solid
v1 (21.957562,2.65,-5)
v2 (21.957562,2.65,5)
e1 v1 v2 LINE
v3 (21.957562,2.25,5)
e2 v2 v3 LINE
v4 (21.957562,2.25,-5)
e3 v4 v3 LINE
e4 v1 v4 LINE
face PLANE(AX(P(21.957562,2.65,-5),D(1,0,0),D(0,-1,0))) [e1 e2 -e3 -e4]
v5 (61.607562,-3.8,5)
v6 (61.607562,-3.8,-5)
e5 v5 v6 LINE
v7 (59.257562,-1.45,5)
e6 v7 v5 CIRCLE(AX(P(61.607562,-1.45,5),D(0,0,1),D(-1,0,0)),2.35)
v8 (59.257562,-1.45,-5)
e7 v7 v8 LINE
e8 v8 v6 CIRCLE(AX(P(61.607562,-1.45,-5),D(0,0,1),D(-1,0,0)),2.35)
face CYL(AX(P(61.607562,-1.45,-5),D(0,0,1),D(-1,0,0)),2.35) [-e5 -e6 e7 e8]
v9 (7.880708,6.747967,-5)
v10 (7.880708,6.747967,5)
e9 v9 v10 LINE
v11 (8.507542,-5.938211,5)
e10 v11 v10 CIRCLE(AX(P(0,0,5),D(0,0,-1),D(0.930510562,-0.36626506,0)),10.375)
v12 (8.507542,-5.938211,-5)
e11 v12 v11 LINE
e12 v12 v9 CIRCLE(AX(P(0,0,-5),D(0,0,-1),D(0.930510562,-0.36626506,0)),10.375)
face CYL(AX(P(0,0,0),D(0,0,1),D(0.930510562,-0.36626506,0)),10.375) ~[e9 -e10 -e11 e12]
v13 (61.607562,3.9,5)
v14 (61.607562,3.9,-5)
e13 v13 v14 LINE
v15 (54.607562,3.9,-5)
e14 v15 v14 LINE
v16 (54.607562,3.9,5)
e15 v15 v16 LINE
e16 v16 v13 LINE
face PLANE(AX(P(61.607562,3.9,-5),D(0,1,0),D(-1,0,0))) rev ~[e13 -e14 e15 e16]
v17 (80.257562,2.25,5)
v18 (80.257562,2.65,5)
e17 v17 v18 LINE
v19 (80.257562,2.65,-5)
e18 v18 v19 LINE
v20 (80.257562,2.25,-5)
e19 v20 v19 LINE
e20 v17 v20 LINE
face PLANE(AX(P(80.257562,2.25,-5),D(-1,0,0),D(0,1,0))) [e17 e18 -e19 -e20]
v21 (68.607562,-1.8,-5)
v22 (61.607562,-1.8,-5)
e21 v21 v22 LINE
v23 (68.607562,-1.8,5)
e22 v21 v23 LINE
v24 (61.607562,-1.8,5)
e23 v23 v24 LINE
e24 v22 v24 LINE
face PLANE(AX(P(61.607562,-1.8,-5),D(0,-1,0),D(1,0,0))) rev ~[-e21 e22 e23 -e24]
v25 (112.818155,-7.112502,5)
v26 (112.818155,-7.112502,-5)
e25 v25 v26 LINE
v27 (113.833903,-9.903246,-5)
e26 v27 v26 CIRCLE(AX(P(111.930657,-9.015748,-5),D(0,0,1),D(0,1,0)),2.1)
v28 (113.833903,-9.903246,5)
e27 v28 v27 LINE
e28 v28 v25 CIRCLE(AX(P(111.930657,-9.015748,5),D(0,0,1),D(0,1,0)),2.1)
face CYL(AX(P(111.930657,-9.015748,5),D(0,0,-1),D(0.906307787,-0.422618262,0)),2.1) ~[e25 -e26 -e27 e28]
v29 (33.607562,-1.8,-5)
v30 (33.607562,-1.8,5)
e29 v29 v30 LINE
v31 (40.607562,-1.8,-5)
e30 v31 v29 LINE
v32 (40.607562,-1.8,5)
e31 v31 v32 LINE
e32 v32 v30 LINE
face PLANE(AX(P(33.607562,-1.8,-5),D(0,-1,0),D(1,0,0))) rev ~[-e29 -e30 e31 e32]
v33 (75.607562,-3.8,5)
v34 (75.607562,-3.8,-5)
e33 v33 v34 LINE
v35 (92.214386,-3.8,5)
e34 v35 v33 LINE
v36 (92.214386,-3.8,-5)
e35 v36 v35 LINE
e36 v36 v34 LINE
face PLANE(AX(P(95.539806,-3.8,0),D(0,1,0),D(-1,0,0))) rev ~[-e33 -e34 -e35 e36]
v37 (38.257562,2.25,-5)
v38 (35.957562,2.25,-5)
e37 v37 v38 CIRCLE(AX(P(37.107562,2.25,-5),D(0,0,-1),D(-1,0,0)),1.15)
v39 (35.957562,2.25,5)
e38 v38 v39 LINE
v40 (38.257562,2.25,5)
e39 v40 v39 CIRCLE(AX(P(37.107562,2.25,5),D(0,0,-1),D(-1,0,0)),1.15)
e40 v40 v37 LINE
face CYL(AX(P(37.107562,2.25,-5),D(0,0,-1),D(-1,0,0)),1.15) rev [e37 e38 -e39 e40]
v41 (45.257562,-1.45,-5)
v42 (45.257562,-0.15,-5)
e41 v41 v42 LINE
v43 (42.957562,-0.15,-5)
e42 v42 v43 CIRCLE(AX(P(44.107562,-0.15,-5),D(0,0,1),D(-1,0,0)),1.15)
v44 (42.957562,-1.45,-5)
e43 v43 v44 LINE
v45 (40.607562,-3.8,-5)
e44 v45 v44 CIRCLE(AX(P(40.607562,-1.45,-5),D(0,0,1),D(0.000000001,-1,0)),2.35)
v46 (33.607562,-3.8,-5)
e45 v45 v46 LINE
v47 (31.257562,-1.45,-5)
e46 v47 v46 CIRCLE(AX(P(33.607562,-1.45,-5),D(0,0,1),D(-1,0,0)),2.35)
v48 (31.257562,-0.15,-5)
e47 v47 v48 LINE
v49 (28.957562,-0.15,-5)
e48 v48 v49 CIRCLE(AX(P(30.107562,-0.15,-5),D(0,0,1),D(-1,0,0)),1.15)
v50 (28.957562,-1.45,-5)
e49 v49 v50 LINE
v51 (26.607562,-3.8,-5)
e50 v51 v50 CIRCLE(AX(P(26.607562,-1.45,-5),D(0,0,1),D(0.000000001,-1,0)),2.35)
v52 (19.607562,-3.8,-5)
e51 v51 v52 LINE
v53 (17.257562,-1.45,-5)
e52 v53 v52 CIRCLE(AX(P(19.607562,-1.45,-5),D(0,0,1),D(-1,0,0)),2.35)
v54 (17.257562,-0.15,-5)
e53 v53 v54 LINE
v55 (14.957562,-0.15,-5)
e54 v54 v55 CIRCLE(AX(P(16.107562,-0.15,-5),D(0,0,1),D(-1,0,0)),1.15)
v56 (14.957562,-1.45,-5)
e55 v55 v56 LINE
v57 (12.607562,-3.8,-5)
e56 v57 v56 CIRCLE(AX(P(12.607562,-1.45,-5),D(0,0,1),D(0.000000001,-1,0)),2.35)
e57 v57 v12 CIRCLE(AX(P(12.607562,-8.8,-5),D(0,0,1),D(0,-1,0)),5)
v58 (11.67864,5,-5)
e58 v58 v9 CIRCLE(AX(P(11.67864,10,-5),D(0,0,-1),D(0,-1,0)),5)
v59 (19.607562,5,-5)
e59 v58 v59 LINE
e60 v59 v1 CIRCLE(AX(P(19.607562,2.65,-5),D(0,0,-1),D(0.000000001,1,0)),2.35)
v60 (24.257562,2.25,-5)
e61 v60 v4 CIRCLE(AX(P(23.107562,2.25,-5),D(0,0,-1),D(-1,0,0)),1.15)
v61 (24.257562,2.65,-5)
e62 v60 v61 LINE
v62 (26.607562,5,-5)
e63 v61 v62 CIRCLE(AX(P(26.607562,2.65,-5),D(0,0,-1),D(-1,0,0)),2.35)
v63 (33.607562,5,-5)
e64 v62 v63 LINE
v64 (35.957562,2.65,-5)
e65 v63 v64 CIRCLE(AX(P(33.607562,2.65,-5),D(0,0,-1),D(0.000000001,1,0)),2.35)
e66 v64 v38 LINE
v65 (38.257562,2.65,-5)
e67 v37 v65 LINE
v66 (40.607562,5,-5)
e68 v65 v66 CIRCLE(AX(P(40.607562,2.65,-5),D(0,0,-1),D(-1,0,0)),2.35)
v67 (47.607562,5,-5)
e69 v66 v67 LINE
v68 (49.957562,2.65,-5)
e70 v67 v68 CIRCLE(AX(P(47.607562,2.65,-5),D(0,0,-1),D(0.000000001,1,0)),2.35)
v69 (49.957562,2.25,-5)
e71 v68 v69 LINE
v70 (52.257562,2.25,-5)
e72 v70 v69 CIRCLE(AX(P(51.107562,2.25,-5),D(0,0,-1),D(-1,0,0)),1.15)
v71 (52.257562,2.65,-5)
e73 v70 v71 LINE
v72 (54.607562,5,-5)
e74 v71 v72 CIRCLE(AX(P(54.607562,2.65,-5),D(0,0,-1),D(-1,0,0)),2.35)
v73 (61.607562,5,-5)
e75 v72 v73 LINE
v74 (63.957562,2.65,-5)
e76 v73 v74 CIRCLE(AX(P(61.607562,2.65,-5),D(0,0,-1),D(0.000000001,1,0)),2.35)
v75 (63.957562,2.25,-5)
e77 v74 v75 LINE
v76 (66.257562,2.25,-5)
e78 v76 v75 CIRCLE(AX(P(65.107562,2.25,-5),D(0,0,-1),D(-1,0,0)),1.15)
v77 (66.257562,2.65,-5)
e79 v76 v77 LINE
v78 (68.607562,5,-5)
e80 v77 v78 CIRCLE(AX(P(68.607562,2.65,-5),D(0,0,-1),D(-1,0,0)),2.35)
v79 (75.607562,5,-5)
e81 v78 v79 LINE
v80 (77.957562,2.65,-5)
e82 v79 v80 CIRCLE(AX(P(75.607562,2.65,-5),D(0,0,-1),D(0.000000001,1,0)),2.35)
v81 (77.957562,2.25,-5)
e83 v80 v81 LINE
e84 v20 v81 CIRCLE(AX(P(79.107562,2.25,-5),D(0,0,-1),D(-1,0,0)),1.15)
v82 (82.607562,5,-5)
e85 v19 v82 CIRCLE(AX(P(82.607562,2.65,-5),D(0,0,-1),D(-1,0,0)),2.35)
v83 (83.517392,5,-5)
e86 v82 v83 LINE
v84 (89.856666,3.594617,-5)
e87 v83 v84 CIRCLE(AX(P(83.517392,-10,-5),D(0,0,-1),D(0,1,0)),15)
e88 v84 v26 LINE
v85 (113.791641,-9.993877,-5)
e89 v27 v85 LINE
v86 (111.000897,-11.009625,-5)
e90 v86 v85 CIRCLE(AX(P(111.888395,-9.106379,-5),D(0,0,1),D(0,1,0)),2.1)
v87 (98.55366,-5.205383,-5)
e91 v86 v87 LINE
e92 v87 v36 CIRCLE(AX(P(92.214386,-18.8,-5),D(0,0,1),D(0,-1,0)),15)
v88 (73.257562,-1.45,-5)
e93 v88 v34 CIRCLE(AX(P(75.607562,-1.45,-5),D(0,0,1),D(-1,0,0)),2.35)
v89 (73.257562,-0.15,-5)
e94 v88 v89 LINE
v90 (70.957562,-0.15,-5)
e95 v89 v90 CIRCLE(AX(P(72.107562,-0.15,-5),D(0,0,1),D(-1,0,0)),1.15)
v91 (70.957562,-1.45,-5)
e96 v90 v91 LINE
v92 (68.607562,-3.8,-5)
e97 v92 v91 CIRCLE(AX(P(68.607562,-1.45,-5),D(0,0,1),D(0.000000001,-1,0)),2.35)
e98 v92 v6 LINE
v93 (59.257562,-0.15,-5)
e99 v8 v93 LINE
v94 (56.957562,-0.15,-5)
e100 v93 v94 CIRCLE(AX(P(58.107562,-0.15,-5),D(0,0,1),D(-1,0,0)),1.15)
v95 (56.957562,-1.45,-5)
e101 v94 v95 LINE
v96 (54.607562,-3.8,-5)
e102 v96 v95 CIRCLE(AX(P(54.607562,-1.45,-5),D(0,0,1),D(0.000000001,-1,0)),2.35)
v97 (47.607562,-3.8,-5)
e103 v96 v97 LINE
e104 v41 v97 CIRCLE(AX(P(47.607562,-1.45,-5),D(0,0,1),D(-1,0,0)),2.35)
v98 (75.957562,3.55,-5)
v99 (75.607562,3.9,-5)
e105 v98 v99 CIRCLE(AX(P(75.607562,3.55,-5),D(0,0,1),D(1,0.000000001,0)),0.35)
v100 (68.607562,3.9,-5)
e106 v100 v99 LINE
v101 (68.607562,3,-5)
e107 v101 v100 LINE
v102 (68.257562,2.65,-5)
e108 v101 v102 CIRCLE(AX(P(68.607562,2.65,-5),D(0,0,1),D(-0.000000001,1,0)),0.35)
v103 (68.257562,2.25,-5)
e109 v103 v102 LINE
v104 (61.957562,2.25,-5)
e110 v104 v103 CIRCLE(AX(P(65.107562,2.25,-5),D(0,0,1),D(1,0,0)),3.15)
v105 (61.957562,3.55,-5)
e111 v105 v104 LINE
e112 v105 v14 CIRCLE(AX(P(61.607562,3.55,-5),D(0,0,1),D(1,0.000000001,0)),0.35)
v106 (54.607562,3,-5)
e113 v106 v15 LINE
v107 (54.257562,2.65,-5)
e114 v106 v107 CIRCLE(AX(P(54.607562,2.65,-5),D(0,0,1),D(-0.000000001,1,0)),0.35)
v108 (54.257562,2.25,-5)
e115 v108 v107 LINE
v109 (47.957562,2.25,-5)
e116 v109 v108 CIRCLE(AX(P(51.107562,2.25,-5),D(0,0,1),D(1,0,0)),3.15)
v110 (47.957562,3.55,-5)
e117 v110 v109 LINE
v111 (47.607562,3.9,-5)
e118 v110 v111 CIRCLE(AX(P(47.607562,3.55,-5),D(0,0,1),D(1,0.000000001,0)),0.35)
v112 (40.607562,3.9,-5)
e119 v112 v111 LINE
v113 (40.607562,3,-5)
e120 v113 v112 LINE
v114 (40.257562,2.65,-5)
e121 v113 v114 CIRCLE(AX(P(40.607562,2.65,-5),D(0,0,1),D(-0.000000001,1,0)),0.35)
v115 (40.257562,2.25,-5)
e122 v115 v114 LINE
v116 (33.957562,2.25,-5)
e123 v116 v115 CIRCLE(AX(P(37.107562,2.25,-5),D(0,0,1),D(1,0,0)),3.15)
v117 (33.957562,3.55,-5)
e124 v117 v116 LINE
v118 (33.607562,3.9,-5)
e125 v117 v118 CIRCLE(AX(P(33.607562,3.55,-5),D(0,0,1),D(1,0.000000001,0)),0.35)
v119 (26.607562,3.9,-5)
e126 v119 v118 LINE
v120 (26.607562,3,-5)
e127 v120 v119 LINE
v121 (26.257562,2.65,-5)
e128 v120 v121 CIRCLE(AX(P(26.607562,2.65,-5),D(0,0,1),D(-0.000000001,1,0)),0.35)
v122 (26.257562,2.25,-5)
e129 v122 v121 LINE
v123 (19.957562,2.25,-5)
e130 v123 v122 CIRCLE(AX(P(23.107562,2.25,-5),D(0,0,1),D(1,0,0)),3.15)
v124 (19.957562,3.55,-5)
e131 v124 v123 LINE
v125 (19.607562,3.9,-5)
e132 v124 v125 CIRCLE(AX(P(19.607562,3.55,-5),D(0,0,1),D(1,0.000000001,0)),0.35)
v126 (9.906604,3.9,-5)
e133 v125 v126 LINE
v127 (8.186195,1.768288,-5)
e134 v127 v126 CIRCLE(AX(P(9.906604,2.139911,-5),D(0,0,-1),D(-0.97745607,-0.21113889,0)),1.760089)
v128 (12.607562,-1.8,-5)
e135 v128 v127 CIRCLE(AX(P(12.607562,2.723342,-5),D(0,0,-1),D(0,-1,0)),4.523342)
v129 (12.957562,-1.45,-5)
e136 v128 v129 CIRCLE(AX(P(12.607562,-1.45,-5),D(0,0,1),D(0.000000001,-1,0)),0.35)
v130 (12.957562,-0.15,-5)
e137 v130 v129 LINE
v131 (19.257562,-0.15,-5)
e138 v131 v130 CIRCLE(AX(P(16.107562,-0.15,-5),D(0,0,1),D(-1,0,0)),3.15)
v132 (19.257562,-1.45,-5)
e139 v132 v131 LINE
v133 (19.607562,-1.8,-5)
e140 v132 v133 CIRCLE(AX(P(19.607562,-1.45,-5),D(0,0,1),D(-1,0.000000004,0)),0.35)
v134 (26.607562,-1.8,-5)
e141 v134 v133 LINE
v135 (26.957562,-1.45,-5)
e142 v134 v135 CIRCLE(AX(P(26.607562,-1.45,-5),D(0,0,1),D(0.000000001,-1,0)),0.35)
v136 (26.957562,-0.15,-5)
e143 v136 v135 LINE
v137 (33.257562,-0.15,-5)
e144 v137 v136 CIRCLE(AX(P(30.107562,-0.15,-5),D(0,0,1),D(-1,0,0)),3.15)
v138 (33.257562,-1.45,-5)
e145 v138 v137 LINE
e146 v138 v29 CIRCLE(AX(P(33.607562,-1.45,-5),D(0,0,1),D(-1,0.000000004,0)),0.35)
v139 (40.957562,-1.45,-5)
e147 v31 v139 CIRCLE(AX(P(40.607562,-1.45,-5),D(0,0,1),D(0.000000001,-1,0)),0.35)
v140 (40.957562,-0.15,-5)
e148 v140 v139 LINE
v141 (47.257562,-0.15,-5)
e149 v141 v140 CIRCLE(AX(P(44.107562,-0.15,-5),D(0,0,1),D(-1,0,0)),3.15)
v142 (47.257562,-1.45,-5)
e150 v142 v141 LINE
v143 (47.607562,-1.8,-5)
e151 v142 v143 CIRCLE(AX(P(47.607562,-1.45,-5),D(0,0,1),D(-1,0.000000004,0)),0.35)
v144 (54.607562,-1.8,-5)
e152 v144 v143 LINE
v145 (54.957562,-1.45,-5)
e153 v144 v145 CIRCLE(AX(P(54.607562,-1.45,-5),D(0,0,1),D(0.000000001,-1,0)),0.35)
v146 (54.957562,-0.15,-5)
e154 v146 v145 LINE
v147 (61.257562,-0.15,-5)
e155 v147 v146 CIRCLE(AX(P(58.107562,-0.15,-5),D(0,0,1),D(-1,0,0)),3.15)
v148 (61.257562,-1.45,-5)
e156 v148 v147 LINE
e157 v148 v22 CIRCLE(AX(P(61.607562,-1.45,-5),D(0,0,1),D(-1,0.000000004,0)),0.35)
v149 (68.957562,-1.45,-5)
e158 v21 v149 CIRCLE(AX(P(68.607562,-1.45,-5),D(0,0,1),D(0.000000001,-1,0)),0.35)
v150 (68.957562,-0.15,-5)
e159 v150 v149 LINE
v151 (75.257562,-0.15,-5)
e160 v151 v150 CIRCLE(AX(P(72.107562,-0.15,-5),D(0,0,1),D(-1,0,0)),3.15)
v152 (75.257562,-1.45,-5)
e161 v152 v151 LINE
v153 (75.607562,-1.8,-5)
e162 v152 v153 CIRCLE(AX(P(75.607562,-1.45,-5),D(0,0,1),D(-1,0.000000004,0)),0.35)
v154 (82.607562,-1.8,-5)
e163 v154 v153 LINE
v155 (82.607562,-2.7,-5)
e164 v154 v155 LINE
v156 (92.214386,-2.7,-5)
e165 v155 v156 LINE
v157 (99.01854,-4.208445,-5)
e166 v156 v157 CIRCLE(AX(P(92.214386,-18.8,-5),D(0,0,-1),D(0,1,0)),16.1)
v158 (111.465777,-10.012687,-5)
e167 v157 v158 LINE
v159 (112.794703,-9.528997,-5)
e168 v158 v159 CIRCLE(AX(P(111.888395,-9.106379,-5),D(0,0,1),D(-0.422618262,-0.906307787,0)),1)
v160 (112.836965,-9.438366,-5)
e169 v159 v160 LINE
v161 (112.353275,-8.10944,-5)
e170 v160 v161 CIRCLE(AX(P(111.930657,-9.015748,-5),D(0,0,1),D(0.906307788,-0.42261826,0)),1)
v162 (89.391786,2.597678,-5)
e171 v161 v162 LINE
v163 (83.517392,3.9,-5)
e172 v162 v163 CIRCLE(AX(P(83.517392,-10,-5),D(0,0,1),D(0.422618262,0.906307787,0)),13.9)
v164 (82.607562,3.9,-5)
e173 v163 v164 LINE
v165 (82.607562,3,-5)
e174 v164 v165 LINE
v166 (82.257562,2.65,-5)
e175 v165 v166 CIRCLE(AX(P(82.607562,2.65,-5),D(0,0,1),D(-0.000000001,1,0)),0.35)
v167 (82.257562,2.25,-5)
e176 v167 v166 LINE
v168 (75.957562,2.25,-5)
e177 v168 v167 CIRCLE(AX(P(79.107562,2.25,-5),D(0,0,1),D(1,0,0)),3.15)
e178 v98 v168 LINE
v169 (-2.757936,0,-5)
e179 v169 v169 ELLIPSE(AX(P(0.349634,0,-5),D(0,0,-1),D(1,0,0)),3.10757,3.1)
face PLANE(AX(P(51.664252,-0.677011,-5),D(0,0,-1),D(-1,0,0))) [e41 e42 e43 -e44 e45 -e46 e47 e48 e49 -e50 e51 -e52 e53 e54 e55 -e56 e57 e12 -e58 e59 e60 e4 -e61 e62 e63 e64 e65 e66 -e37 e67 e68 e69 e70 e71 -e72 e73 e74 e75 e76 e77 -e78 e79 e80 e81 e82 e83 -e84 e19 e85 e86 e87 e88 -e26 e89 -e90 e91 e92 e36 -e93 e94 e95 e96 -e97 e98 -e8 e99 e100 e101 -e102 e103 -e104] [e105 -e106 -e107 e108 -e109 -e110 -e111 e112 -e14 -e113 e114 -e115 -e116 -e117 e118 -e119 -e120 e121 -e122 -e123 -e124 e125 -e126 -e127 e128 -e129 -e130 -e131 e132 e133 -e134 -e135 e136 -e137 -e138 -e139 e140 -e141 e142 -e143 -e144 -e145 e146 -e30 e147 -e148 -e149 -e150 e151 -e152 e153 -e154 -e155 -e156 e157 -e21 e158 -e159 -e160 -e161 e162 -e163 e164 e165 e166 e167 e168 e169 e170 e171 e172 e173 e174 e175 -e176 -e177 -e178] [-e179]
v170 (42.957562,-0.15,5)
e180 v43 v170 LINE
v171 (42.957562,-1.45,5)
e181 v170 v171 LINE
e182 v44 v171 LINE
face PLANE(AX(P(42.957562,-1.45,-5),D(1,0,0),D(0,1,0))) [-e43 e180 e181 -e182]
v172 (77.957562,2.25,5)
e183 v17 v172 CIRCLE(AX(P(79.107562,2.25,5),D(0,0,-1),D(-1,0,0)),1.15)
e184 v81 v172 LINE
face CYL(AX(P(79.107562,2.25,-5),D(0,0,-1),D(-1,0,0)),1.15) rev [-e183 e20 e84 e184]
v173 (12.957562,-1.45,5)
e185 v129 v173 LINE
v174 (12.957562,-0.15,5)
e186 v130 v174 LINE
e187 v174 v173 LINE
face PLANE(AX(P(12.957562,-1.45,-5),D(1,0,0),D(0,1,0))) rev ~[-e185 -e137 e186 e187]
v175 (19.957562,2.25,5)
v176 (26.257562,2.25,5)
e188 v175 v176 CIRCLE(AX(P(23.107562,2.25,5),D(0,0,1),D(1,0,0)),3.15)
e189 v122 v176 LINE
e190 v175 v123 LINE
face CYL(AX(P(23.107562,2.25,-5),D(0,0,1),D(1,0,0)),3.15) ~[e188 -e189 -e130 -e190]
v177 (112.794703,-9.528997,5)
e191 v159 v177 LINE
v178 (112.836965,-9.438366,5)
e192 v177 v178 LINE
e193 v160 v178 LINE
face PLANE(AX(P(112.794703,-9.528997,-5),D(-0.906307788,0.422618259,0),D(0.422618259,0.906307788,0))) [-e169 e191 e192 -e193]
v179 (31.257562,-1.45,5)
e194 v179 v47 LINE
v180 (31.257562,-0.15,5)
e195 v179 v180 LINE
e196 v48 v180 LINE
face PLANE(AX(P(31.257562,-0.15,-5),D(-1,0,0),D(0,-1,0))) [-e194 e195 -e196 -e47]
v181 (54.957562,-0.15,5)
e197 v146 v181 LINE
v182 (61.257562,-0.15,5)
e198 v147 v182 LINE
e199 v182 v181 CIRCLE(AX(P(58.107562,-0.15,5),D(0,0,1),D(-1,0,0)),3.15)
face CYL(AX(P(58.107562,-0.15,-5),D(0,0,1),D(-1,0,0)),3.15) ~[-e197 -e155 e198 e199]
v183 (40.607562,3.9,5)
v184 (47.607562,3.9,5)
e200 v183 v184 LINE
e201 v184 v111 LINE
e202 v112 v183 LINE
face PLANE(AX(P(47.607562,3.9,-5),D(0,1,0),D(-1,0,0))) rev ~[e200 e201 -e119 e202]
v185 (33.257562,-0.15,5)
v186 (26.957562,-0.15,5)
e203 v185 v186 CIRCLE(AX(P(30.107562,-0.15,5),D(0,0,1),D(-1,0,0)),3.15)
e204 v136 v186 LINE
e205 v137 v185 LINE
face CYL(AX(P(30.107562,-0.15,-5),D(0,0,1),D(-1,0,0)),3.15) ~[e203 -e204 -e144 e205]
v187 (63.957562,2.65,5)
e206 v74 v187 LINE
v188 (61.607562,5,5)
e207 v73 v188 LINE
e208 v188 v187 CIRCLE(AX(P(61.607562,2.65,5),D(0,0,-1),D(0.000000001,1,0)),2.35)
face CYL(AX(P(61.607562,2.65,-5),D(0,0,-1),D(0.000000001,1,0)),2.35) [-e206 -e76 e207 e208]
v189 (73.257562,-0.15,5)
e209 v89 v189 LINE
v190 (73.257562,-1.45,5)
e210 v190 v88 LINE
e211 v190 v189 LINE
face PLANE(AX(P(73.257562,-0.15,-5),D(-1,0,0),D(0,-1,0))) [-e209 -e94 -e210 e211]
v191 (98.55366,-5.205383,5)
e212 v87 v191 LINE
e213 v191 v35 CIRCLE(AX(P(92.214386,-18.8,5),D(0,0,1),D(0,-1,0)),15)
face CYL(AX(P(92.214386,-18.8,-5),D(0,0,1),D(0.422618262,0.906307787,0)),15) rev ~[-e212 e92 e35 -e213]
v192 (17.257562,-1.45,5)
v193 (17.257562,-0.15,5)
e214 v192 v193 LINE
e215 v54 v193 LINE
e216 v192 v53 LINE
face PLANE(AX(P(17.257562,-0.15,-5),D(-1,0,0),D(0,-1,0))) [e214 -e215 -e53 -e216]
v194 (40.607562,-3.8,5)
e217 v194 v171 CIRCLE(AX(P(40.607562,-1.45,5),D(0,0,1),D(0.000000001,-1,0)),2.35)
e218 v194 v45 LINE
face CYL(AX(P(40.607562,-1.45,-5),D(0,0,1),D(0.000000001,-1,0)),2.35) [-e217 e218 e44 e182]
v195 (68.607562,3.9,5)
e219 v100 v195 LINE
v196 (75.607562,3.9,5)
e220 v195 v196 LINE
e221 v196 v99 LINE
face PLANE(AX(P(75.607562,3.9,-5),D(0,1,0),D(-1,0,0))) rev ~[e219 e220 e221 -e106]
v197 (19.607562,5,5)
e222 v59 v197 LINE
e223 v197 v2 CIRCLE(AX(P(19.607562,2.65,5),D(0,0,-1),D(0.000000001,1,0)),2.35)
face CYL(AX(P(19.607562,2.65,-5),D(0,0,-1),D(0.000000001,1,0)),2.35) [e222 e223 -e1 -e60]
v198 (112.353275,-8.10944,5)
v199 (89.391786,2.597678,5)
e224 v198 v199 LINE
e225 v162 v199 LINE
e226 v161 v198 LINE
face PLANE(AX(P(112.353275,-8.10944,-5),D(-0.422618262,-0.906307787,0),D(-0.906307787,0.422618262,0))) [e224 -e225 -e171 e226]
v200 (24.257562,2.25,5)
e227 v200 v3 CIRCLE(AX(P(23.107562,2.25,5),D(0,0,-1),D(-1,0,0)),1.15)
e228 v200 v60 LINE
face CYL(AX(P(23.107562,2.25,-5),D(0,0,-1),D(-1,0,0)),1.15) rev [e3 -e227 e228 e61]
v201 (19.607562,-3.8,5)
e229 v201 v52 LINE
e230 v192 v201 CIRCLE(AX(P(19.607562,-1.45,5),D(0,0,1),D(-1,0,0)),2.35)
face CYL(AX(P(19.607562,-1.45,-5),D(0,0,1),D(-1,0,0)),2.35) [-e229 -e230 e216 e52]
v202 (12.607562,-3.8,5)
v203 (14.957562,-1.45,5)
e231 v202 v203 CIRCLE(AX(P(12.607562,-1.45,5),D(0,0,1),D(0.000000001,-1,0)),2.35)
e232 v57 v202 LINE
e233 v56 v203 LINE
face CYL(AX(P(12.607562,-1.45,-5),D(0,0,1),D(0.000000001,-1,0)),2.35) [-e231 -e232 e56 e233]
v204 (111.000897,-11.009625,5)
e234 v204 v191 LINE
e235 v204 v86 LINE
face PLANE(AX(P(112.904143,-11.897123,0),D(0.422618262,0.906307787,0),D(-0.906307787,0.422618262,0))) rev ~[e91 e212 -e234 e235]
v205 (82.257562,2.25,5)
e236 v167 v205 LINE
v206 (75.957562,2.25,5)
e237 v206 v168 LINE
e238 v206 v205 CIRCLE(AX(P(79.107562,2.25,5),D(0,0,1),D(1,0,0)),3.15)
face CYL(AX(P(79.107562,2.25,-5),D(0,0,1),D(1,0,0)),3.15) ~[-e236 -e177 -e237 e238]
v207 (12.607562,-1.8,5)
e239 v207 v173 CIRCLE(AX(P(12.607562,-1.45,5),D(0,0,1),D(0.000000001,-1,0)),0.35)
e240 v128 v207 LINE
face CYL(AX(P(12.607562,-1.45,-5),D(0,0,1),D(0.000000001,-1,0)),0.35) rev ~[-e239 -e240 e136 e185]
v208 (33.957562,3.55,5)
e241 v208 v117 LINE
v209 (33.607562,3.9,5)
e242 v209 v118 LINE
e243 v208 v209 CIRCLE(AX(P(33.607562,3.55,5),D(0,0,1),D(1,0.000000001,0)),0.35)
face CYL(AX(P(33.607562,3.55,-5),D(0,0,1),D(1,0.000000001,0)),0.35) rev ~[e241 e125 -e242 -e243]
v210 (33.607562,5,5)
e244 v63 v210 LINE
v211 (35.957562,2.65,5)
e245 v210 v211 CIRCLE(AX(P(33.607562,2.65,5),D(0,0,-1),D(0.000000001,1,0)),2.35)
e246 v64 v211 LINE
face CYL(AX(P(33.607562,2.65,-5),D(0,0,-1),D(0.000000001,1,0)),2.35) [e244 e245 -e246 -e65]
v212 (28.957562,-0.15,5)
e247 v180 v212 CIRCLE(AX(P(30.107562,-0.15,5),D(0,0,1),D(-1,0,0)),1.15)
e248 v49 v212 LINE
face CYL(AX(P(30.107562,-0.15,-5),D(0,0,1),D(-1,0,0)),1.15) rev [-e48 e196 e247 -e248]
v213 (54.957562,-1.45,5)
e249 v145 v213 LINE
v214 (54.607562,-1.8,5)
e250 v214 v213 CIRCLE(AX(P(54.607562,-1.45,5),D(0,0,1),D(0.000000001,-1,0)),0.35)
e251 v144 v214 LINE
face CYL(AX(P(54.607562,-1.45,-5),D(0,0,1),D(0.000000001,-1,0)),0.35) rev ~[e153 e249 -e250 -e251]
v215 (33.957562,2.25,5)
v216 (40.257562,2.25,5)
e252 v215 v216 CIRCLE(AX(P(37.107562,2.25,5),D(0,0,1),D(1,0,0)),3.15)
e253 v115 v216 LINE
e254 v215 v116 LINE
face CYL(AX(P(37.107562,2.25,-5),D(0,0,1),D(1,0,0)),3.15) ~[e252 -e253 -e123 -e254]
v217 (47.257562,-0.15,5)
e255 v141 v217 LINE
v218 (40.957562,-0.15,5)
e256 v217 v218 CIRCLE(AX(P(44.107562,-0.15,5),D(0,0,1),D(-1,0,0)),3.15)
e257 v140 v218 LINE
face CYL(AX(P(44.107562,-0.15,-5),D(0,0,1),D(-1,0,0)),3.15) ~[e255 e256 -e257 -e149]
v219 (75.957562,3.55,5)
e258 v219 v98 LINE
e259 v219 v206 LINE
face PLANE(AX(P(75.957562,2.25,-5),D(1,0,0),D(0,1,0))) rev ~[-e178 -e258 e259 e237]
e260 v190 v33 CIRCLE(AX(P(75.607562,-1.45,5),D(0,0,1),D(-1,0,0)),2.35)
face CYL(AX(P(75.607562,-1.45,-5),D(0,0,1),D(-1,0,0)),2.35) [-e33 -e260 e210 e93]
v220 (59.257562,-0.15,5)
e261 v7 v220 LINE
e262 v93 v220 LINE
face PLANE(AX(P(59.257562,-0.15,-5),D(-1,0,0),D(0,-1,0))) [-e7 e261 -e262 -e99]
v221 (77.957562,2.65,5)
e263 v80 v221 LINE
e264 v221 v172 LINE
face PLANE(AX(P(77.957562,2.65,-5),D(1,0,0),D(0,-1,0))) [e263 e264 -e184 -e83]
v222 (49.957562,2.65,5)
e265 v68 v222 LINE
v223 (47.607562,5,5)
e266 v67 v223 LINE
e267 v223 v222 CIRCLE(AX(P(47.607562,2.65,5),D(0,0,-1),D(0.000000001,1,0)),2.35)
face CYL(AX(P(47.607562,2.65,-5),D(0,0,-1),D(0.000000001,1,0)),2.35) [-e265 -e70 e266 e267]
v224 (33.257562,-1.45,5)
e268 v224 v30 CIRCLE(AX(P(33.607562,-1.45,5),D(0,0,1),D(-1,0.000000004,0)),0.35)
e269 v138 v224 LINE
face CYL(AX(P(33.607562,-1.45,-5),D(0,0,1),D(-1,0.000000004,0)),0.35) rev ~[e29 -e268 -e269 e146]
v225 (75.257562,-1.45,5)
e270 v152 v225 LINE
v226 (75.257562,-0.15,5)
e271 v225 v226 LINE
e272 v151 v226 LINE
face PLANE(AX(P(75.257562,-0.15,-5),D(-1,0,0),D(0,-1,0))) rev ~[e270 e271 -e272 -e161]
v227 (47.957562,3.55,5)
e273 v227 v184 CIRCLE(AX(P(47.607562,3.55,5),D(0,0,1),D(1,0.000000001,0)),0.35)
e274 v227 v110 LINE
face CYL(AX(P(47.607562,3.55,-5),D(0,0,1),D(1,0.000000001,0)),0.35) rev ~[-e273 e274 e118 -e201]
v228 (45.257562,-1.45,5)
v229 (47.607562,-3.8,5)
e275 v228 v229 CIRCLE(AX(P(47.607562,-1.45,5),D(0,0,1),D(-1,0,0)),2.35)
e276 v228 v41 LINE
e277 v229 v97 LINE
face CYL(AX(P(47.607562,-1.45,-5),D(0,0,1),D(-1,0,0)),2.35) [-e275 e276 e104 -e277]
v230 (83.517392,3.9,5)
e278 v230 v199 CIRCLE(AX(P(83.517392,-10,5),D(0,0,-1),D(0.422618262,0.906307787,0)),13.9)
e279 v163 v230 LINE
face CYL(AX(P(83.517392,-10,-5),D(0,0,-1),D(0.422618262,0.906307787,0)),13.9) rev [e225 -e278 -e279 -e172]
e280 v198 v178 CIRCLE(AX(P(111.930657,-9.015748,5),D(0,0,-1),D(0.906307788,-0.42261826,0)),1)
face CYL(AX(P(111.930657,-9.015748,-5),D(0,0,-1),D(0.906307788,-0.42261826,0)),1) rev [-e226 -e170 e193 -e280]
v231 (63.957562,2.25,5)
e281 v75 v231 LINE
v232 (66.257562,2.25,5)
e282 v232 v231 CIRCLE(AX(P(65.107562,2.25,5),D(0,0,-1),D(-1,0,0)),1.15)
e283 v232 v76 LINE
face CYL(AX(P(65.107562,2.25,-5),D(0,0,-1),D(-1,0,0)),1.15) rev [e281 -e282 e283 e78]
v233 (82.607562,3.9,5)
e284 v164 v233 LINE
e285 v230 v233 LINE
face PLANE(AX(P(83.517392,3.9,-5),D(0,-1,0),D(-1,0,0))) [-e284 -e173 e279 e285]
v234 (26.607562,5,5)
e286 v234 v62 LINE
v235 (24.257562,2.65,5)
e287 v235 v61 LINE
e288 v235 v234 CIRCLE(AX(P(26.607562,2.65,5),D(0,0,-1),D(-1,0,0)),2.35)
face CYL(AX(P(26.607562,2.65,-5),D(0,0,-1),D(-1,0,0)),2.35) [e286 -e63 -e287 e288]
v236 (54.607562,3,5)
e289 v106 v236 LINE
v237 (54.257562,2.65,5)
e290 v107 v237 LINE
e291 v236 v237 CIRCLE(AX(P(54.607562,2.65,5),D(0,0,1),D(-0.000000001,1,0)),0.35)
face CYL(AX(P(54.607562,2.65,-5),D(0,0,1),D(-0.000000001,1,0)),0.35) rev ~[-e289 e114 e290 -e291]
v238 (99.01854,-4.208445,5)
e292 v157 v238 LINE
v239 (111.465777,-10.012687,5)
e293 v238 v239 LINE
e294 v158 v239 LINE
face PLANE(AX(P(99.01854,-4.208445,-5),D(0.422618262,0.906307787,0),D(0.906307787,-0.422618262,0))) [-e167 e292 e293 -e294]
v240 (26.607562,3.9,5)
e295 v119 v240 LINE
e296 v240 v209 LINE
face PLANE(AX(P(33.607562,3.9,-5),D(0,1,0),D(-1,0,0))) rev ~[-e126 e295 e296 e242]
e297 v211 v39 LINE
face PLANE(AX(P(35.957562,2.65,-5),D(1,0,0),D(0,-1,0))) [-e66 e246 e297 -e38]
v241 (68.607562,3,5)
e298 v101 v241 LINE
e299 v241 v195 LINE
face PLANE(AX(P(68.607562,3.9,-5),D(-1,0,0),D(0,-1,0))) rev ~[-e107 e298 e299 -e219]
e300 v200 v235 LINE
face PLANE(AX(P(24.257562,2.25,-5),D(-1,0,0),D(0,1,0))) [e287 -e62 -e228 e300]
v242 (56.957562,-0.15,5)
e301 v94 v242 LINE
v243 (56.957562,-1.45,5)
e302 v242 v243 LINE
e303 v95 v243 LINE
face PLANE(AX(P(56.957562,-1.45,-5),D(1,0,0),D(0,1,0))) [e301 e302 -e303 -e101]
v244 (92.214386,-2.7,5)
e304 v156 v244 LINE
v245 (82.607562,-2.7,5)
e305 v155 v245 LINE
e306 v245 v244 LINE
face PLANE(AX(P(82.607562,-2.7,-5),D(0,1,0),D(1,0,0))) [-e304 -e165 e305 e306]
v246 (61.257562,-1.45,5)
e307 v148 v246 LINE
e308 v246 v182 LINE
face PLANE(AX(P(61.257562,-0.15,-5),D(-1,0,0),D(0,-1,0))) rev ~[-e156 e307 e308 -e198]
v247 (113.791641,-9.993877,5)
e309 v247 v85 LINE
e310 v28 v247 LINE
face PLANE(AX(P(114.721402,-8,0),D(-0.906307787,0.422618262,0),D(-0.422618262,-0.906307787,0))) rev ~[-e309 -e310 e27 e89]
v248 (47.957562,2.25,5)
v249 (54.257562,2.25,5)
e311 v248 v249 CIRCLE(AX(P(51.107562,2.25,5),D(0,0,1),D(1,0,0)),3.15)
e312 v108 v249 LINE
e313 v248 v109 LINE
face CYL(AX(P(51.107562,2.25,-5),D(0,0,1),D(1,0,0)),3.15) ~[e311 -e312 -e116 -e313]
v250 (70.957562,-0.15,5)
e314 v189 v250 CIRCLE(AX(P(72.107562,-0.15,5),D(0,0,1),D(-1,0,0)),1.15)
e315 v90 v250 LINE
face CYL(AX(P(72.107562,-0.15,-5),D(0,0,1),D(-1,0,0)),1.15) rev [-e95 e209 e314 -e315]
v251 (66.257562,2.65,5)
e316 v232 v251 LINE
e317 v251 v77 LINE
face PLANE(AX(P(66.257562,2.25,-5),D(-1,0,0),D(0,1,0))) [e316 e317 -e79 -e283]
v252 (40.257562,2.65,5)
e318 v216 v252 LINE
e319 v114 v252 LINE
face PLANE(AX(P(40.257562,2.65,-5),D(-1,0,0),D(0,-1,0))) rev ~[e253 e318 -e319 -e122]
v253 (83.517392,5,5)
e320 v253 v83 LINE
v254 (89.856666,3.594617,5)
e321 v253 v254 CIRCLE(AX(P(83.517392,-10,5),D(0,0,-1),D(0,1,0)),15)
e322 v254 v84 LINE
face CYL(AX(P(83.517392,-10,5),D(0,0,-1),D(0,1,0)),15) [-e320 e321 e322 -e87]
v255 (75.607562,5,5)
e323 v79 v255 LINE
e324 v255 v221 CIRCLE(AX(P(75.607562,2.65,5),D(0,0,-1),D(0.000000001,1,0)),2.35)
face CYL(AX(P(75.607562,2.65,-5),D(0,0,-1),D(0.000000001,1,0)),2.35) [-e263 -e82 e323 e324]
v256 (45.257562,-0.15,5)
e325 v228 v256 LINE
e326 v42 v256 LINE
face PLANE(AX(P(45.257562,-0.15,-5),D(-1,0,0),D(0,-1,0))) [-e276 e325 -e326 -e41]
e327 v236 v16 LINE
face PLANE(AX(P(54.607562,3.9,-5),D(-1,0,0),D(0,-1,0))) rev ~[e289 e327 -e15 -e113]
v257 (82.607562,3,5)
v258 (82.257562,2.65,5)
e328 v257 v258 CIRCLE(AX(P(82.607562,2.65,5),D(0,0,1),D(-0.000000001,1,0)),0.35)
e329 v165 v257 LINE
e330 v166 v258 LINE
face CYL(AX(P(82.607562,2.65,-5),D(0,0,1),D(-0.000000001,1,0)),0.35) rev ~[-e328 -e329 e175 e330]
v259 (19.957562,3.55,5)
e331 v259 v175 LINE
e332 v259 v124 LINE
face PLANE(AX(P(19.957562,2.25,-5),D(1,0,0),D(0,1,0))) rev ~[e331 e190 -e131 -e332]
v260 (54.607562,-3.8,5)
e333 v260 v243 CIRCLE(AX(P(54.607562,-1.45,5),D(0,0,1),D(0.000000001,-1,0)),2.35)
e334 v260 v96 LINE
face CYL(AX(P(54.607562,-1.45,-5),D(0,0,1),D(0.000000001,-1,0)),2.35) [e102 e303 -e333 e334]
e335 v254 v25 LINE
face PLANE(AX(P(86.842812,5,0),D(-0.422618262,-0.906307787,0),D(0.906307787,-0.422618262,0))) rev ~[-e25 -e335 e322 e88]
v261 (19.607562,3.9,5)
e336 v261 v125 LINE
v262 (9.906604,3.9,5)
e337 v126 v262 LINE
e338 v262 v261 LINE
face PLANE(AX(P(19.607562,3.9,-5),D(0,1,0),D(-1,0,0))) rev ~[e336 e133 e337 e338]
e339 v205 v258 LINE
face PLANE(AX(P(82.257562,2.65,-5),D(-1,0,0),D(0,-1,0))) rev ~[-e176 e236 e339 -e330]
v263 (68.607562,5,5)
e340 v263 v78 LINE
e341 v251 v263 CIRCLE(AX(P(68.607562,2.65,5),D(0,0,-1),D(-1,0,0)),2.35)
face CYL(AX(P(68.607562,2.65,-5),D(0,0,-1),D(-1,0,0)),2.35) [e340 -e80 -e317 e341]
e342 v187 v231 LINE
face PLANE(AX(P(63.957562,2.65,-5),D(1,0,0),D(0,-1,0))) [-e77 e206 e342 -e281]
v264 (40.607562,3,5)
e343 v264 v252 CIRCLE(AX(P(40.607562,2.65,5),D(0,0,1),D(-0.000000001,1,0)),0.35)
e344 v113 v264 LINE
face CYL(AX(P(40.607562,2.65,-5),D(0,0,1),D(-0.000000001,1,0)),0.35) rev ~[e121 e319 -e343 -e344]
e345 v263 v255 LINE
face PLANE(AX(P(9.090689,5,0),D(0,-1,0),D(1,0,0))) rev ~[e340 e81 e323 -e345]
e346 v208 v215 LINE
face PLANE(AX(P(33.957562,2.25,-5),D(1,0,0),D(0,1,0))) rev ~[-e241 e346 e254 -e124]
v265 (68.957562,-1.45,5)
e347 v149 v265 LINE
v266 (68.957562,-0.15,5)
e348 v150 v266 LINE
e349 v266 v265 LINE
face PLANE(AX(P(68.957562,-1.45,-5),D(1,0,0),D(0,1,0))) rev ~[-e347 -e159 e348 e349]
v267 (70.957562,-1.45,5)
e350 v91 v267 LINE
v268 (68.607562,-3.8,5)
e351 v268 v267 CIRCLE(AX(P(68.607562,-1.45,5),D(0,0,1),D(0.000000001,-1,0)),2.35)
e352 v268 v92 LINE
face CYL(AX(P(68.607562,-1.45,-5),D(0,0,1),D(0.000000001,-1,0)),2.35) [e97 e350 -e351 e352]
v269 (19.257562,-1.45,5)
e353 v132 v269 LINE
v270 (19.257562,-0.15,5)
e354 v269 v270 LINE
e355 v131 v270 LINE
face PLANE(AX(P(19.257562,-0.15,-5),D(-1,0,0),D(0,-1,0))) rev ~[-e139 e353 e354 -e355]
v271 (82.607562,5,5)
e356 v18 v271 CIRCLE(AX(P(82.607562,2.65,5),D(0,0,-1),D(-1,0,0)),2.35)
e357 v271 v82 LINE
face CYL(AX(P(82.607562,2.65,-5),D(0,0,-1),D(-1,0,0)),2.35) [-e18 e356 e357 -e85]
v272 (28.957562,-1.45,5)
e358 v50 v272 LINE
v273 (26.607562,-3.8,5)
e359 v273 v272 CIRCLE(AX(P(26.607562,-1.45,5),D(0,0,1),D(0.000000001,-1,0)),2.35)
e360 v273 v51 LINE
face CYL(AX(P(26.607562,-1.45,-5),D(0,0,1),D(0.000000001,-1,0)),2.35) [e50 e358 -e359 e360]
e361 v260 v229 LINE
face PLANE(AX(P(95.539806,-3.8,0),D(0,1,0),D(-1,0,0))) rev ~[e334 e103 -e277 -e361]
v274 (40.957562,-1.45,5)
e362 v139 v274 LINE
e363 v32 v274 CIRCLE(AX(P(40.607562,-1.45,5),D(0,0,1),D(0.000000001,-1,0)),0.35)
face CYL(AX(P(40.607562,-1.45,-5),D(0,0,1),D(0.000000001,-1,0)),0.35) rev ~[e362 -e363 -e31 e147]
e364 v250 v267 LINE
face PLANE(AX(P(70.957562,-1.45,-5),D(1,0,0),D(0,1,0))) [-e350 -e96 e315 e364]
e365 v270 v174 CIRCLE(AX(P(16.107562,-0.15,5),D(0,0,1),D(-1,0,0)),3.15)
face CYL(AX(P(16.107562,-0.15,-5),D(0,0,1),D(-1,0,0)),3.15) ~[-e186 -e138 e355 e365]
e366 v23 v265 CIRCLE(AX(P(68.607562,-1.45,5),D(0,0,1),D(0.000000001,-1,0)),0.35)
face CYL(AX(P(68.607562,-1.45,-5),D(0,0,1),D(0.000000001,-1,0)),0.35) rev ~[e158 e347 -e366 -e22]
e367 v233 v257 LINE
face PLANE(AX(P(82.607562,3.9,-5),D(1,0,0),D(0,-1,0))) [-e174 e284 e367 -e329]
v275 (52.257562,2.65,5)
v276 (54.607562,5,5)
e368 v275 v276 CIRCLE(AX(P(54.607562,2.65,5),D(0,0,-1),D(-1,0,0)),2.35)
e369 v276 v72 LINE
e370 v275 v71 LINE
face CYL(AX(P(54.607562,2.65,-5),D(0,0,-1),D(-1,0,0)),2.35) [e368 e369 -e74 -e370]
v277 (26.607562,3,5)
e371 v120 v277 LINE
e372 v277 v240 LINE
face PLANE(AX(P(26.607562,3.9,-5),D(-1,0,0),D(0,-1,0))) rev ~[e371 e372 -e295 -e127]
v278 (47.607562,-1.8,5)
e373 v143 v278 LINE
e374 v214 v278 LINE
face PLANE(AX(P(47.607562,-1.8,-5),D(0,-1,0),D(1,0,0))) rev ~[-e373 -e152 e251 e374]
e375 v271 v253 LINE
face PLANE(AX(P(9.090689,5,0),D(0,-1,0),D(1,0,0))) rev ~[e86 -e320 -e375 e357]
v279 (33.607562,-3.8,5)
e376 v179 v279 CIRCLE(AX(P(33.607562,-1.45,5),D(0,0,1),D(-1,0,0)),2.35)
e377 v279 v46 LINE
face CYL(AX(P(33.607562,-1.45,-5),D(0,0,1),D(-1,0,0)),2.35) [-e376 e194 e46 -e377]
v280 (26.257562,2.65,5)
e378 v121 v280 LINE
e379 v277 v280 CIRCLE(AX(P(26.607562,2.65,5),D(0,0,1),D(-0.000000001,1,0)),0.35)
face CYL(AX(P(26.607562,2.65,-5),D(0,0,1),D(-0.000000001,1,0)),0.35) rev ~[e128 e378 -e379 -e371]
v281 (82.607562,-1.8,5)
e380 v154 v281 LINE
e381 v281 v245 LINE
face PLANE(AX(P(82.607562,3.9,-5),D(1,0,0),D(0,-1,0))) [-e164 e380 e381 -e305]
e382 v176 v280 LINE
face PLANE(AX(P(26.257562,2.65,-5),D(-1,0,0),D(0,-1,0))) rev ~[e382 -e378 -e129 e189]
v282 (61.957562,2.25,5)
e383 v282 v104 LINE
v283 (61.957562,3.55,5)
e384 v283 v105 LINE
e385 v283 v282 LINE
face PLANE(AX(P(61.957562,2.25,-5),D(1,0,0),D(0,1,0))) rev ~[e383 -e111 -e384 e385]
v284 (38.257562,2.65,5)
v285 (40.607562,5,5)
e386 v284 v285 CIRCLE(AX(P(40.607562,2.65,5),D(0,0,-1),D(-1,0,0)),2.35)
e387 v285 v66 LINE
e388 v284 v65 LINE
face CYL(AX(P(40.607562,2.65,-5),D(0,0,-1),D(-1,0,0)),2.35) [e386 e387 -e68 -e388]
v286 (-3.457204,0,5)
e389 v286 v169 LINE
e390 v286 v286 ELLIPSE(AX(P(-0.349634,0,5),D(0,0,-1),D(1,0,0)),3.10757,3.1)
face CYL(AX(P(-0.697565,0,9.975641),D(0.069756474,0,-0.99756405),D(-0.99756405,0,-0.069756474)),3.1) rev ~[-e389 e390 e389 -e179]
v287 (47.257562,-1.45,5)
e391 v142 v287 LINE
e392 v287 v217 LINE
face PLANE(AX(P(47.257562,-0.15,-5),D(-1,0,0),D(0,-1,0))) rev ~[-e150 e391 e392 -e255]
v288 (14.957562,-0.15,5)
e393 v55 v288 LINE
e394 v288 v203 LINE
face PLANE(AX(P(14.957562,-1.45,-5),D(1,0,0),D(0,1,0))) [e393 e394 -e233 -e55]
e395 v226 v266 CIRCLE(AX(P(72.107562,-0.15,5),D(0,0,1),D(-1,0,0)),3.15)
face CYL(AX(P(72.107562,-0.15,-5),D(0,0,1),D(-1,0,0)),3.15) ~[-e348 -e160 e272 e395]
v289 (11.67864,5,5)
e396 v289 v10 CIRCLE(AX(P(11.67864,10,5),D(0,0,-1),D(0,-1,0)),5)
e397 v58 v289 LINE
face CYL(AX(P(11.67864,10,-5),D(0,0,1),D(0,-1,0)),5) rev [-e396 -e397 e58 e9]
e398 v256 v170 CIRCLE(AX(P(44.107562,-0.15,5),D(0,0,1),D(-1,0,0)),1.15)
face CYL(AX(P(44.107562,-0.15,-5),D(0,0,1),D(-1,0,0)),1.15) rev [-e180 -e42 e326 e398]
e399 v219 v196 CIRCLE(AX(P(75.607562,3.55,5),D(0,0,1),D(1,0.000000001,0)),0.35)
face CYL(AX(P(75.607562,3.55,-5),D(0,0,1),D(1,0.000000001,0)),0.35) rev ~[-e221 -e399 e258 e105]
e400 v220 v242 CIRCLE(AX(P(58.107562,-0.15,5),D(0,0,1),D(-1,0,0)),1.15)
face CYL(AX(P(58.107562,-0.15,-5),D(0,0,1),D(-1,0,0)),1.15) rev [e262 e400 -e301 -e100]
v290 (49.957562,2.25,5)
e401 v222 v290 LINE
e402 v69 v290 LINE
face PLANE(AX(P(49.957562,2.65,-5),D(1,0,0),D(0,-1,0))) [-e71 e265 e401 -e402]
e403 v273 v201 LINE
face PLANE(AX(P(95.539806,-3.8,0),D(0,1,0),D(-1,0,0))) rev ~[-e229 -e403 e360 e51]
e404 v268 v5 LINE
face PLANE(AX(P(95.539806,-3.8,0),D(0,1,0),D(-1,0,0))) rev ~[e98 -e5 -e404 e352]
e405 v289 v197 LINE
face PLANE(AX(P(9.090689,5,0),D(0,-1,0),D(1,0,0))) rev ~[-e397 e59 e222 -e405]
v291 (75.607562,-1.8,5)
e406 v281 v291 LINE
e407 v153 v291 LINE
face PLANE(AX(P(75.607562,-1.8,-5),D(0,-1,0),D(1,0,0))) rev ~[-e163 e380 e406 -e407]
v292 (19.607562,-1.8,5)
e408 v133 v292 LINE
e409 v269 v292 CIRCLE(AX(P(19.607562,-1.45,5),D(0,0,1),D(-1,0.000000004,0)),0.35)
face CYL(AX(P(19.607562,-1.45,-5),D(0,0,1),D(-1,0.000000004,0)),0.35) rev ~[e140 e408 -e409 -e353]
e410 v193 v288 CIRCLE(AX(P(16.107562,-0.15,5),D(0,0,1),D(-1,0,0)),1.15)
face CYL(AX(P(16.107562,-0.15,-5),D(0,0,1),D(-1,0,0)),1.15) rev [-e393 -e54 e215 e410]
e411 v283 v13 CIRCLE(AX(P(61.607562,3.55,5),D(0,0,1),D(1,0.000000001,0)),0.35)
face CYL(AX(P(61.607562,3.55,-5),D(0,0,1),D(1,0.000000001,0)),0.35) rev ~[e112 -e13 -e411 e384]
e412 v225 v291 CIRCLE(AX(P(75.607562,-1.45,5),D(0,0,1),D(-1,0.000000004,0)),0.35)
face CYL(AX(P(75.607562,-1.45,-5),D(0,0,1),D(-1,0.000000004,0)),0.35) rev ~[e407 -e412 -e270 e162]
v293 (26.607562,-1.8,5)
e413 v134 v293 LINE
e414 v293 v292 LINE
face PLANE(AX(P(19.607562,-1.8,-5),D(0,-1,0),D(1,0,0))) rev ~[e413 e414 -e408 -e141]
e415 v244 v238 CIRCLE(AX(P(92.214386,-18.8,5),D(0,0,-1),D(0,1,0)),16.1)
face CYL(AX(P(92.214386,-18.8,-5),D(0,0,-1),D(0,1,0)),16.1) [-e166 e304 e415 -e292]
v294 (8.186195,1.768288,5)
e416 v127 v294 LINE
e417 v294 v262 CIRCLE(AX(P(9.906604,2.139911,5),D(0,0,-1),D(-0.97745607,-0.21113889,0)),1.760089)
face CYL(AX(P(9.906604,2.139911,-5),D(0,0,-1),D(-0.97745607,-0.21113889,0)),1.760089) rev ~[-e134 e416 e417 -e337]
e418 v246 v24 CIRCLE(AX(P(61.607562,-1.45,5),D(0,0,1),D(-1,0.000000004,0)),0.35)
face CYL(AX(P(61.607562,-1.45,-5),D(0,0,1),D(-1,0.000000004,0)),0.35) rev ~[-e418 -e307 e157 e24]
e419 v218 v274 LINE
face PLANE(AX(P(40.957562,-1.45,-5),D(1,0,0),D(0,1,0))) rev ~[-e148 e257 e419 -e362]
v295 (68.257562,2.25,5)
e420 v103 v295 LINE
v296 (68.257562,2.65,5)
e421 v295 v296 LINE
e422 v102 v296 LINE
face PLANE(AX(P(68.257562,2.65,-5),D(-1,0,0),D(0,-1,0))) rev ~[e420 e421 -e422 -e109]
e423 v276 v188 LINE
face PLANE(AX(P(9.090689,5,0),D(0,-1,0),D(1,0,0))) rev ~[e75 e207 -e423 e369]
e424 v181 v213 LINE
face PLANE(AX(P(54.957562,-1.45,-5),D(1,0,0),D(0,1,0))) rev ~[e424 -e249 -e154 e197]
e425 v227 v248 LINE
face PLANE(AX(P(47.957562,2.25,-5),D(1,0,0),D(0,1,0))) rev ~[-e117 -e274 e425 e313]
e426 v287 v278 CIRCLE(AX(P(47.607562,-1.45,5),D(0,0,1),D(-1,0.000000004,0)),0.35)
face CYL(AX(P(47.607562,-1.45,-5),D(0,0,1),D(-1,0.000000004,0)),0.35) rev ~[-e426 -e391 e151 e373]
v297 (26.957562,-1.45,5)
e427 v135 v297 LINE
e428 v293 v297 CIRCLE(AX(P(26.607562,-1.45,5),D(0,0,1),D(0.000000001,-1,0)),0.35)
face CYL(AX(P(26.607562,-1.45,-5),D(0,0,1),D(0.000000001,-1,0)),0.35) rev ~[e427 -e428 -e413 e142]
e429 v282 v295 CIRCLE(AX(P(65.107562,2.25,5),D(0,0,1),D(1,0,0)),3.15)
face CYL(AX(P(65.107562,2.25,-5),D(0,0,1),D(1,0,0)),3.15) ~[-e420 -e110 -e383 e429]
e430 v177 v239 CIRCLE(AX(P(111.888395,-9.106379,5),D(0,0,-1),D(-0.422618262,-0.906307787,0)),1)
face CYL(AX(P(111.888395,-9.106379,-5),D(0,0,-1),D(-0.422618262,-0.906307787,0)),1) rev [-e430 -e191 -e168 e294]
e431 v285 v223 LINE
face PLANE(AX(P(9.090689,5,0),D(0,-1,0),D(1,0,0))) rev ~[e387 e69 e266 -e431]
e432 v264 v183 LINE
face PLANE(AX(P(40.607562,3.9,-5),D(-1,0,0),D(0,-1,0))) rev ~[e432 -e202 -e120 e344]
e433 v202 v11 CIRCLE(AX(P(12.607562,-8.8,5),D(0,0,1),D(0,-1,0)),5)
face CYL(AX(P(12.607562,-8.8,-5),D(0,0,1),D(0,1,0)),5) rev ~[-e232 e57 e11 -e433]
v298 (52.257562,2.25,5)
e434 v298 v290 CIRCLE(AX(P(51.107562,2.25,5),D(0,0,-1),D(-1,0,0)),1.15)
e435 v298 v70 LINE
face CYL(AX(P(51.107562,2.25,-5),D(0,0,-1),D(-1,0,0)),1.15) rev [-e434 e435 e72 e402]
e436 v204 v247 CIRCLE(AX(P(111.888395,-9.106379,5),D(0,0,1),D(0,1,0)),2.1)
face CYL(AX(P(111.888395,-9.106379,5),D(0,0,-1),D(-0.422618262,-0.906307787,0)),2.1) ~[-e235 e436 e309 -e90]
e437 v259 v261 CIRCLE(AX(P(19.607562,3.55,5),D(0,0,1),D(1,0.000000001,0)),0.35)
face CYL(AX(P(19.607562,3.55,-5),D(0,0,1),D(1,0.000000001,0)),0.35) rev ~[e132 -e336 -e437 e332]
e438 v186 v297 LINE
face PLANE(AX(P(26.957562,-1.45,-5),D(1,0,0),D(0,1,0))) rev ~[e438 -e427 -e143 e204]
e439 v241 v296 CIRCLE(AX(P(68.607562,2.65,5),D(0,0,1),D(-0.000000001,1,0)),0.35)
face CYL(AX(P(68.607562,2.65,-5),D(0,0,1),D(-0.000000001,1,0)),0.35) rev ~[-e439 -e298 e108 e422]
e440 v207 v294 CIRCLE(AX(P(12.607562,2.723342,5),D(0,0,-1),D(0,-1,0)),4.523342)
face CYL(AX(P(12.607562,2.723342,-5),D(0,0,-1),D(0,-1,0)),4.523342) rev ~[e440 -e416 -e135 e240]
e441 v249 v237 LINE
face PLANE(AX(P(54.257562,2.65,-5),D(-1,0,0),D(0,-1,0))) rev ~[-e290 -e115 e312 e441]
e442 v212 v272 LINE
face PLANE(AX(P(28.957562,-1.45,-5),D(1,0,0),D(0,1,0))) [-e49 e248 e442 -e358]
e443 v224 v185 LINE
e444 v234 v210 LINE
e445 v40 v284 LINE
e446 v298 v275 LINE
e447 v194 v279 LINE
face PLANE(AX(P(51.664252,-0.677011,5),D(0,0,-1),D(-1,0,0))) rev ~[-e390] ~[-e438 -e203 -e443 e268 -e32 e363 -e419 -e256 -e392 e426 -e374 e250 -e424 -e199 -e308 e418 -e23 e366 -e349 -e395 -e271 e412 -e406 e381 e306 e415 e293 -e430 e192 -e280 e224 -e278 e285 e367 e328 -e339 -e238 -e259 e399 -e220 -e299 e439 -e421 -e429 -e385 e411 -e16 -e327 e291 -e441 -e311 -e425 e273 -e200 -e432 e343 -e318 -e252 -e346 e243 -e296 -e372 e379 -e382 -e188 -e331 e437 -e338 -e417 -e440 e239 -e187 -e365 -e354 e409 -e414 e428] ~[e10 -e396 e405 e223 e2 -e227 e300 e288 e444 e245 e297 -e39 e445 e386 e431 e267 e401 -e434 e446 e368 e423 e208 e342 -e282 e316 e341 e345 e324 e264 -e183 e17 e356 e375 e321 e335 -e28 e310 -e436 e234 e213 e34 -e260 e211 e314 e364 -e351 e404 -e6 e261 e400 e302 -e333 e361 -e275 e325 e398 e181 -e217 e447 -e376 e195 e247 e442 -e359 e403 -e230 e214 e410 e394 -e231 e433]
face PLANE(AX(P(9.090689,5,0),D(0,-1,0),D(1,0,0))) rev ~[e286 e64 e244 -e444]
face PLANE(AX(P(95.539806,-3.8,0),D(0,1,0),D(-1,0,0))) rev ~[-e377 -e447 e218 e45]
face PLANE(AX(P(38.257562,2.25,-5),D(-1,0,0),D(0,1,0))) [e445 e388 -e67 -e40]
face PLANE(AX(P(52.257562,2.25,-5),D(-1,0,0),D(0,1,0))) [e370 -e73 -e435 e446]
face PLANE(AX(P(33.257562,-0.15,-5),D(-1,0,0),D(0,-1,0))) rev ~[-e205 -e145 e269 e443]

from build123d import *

# Parameters (mm, degrees)
BOSS_EXTRU_1_DEPTH         = 5
CONG_4_R                   = 5
CONG_3_R                   = 15
ENL_V_MAT_EXTRU_5_DEPTH    = 116.769346319
R_P_TITION_LIN_AIRE1_COUNT = 5
R_P_TITION_LIN_AIRE1_PITCH = 14
ENL_V_MAT_EXTRU_6_DEPTH    = 116.769346319
CONG_6_R                   = 2.1


with BuildPart() as part:
    # Esquisse1 → Boss.-Extru.1 (new, symmetric)
    with BuildSketch(Plane.XY):
        with BuildLine():
            Line((9.090688918, 5), (86.842811698, 5))
            Line((86.842811698, 5), (114.721401665, -8))
            Line((114.721401665, -8), (112.90414314, -11.897123484))
            Line((112.90414314, -11.897123484), (95.539805791, -3.8))
            Line((95.539805791, -3.8), (9.654047079, -3.8))
            ThreePointArc((9.654047079, -3.8), (-10.353805189, -0.662829619), (9.090688918, 5))
        make_face()
    extrude(amount=BOSS_EXTRU_1_DEPTH, both=True)

    # Congé4
    cong_4_edges = [part.edges().sort_by_distance(p)[0] for p in [
        (9.654047079, -3.8, 0),
        (9.090688918, 5, 0),
    ]]
    fillet(cong_4_edges, radius=CONG_4_R)

    # Congé3
    cong_3_edges = [part.edges().sort_by_distance(p)[0] for p in [
        (95.539805791, -3.8, 0),
        (86.842811698, 5, 0),
    ]]
    fillet(cong_3_edges, radius=CONG_3_R)

    # Esquisse10 → Enlèvement de matière-Révolution1 (revolve, cut)
    with BuildSketch(Plane(origin=(0, 0, 0), x_dir=(1, 0, 0), z_dir=(0, 1, 0))):
        Polygon((0.697564737, 9.975640503), (-0.697564737, -9.975640503), (2.394883818, -10.191885571), (3.790013293, 9.759395434), align=None)
    revolve(axis=Axis((0.697564737, 0, -9.975640503), (0.06975647374413119, 0, -0.9975640502598239)), mode=Mode.SUBTRACT)

    # Esquisse8 → Enlèv. mat.-Extru.5 (cut, symmetric)
    with BuildSketch(Plane(origin=(0, 0, -5), x_dir=(-1, 0, 0), z_dir=(0, 0, -1))):
        with BuildLine():
            Line((-17.257562182, -0.15), (-17.257562182, -1.450000033))
            ThreePointArc((-17.257562182, -1.450000033), (-17.945861236, -3.111700945), (-19.607562149, -3.8))
            Line((-19.607562149, -3.8), (-12.607562215, -3.8))
            ThreePointArc((-12.607562215, -3.8), (-14.269263127, -3.111700945), (-14.957562182, -1.450000033))
            Line((-14.957562182, -1.450000033), (-14.957562182, -0.15))
            ThreePointArc((-14.957562182, -0.15), (-16.107562182, 1), (-17.257562182, -0.15))
        make_face()
        with BuildLine():
            Line((-19.607562281, 3.9), (-12.607562215, 3.9))
            Line((-12.607562215, 3.9), (-12.607562215, -1.8))
            ThreePointArc((-12.607562215, -1.8), (-12.855049565, -1.697487383), (-12.957562182, -1.450000033))
            Line((-12.957562182, -1.450000033), (-12.957562182, -0.15))
            ThreePointArc((-12.957562182, -0.15), (-16.107562182, 3), (-19.257562182, -0.15))
            Line((-19.257562182, -0.15), (-19.257562182, -1.450000033))
            ThreePointArc((-19.257562182, -1.450000033), (-19.360074845, -1.69748743), (-19.607562281, -1.8))
            Line((-19.607562281, -1.8), (-26.607562215, -1.8))
            Line((-26.607562215, -1.8), (-26.607562215, 3))
            ThreePointArc((-26.607562215, 3), (-26.360074865, 2.897487383), (-26.257562248, 2.650000033))
            Line((-26.257562248, 2.650000033), (-26.257562248, 2.25))
            ThreePointArc((-26.257562248, 2.25), (-23.107562248, -0.9), (-19.957562248, 2.25))
            Line((-19.957562248, 2.25), (-19.957562248, 3.550000033))
            ThreePointArc((-19.957562248, 3.550000033), (-19.855049631, 3.797487383), (-19.607562281, 3.9))
        make_face()
        with BuildLine():
            Line((-26.607562215, 5), (-19.607562281, 5))
            ThreePointArc((-19.607562281, 5), (-21.269263193, 4.311700945), (-21.957562248, 2.650000033))
            Line((-21.957562248, 2.650000033), (-21.957562248, 2.25))
            ThreePointArc((-21.957562248, 2.25), (-23.107562248, 1.1), (-24.257562248, 2.25))
            Line((-24.257562248, 2.25), (-24.257562248, 2.650000033))
            ThreePointArc((-24.257562248, 2.650000033), (-24.945861302, 4.311700945), (-26.607562215, 5))
        make_face()
    enl_v_mat_extru_5 = extrude(amount=ENL_V_MAT_EXTRU_5_DEPTH, both=True, mode=Mode.SUBTRACT)

    # Répétition linéaire1: Enlèv. mat.-Extru.5 ×5
    with Locations(*[(i * R_P_TITION_LIN_AIRE1_PITCH, 0, 0) for i in range(1, R_P_TITION_LIN_AIRE1_COUNT)]):
        add(enl_v_mat_extru_5, mode=Mode.SUBTRACT)

    # Esquisse9 → Enlèv. mat.-Extru.6 (cut, through all)
    with BuildSketch(Plane(origin=(0, 0, -5), x_dir=(-1, 0, 0), z_dir=(0, 0, -1))):
        with BuildLine():
            Line((-12.607562215, 3.9), (-12.607562215, -1.8))
            ThreePointArc((-12.607562215, -1.8), (-9.766736082, -0.796647883), (-8.186194586, 1.768288211))
            ThreePointArc((-8.186194586, 1.768288211), (-8.5369321, 3.245312267), (-9.906603899, 3.9))
            Line((-9.906603899, 3.9), (-12.607562215, 3.9))
        make_face()
        with BuildLine():
            Line((-83.517391759, 3.9), (-82.607562215, 3.9))
            Line((-82.607562215, 3.9), (-82.607562215, -2.7))
            Line((-82.607562215, -2.7), (-92.214385852, -2.7))
            ThreePointArc((-92.214385852, -2.7), (-95.699063636, -3.081634285), (-99.018539866, -4.208444629))
            Line((-99.018539866, -4.208444629), (-111.465776875, -10.012686569))
            ThreePointArc((-111.465776875, -10.012686569), (-112.23041528, -10.046071403), (-112.794702924, -9.528997044))
            Line((-112.794702924, -9.528997044), (-112.83696475, -9.438366265))
            ThreePointArc((-112.83696475, -9.438366265), (-112.870349583, -8.67372786), (-112.353275224, -8.109440216))
            Line((-112.353275224, -8.109440216), (-89.391785597, 2.59767824))
            ThreePointArc((-89.391785597, 2.59767824), (-86.525902393, 3.570514499), (-83.517391759, 3.9))
        make_face()
    extrude(amount=-ENL_V_MAT_EXTRU_6_DEPTH, mode=Mode.SUBTRACT)

    # Congé6
    cong_6_edges = [part.edges().sort_by_distance(p)[0] for p in [
        (114.721401665, -8, 0),
        (112.90414314, -11.897123484, 0),
    ]]
    fillet(cong_6_edges, radius=CONG_6_R)


solid = part.part
